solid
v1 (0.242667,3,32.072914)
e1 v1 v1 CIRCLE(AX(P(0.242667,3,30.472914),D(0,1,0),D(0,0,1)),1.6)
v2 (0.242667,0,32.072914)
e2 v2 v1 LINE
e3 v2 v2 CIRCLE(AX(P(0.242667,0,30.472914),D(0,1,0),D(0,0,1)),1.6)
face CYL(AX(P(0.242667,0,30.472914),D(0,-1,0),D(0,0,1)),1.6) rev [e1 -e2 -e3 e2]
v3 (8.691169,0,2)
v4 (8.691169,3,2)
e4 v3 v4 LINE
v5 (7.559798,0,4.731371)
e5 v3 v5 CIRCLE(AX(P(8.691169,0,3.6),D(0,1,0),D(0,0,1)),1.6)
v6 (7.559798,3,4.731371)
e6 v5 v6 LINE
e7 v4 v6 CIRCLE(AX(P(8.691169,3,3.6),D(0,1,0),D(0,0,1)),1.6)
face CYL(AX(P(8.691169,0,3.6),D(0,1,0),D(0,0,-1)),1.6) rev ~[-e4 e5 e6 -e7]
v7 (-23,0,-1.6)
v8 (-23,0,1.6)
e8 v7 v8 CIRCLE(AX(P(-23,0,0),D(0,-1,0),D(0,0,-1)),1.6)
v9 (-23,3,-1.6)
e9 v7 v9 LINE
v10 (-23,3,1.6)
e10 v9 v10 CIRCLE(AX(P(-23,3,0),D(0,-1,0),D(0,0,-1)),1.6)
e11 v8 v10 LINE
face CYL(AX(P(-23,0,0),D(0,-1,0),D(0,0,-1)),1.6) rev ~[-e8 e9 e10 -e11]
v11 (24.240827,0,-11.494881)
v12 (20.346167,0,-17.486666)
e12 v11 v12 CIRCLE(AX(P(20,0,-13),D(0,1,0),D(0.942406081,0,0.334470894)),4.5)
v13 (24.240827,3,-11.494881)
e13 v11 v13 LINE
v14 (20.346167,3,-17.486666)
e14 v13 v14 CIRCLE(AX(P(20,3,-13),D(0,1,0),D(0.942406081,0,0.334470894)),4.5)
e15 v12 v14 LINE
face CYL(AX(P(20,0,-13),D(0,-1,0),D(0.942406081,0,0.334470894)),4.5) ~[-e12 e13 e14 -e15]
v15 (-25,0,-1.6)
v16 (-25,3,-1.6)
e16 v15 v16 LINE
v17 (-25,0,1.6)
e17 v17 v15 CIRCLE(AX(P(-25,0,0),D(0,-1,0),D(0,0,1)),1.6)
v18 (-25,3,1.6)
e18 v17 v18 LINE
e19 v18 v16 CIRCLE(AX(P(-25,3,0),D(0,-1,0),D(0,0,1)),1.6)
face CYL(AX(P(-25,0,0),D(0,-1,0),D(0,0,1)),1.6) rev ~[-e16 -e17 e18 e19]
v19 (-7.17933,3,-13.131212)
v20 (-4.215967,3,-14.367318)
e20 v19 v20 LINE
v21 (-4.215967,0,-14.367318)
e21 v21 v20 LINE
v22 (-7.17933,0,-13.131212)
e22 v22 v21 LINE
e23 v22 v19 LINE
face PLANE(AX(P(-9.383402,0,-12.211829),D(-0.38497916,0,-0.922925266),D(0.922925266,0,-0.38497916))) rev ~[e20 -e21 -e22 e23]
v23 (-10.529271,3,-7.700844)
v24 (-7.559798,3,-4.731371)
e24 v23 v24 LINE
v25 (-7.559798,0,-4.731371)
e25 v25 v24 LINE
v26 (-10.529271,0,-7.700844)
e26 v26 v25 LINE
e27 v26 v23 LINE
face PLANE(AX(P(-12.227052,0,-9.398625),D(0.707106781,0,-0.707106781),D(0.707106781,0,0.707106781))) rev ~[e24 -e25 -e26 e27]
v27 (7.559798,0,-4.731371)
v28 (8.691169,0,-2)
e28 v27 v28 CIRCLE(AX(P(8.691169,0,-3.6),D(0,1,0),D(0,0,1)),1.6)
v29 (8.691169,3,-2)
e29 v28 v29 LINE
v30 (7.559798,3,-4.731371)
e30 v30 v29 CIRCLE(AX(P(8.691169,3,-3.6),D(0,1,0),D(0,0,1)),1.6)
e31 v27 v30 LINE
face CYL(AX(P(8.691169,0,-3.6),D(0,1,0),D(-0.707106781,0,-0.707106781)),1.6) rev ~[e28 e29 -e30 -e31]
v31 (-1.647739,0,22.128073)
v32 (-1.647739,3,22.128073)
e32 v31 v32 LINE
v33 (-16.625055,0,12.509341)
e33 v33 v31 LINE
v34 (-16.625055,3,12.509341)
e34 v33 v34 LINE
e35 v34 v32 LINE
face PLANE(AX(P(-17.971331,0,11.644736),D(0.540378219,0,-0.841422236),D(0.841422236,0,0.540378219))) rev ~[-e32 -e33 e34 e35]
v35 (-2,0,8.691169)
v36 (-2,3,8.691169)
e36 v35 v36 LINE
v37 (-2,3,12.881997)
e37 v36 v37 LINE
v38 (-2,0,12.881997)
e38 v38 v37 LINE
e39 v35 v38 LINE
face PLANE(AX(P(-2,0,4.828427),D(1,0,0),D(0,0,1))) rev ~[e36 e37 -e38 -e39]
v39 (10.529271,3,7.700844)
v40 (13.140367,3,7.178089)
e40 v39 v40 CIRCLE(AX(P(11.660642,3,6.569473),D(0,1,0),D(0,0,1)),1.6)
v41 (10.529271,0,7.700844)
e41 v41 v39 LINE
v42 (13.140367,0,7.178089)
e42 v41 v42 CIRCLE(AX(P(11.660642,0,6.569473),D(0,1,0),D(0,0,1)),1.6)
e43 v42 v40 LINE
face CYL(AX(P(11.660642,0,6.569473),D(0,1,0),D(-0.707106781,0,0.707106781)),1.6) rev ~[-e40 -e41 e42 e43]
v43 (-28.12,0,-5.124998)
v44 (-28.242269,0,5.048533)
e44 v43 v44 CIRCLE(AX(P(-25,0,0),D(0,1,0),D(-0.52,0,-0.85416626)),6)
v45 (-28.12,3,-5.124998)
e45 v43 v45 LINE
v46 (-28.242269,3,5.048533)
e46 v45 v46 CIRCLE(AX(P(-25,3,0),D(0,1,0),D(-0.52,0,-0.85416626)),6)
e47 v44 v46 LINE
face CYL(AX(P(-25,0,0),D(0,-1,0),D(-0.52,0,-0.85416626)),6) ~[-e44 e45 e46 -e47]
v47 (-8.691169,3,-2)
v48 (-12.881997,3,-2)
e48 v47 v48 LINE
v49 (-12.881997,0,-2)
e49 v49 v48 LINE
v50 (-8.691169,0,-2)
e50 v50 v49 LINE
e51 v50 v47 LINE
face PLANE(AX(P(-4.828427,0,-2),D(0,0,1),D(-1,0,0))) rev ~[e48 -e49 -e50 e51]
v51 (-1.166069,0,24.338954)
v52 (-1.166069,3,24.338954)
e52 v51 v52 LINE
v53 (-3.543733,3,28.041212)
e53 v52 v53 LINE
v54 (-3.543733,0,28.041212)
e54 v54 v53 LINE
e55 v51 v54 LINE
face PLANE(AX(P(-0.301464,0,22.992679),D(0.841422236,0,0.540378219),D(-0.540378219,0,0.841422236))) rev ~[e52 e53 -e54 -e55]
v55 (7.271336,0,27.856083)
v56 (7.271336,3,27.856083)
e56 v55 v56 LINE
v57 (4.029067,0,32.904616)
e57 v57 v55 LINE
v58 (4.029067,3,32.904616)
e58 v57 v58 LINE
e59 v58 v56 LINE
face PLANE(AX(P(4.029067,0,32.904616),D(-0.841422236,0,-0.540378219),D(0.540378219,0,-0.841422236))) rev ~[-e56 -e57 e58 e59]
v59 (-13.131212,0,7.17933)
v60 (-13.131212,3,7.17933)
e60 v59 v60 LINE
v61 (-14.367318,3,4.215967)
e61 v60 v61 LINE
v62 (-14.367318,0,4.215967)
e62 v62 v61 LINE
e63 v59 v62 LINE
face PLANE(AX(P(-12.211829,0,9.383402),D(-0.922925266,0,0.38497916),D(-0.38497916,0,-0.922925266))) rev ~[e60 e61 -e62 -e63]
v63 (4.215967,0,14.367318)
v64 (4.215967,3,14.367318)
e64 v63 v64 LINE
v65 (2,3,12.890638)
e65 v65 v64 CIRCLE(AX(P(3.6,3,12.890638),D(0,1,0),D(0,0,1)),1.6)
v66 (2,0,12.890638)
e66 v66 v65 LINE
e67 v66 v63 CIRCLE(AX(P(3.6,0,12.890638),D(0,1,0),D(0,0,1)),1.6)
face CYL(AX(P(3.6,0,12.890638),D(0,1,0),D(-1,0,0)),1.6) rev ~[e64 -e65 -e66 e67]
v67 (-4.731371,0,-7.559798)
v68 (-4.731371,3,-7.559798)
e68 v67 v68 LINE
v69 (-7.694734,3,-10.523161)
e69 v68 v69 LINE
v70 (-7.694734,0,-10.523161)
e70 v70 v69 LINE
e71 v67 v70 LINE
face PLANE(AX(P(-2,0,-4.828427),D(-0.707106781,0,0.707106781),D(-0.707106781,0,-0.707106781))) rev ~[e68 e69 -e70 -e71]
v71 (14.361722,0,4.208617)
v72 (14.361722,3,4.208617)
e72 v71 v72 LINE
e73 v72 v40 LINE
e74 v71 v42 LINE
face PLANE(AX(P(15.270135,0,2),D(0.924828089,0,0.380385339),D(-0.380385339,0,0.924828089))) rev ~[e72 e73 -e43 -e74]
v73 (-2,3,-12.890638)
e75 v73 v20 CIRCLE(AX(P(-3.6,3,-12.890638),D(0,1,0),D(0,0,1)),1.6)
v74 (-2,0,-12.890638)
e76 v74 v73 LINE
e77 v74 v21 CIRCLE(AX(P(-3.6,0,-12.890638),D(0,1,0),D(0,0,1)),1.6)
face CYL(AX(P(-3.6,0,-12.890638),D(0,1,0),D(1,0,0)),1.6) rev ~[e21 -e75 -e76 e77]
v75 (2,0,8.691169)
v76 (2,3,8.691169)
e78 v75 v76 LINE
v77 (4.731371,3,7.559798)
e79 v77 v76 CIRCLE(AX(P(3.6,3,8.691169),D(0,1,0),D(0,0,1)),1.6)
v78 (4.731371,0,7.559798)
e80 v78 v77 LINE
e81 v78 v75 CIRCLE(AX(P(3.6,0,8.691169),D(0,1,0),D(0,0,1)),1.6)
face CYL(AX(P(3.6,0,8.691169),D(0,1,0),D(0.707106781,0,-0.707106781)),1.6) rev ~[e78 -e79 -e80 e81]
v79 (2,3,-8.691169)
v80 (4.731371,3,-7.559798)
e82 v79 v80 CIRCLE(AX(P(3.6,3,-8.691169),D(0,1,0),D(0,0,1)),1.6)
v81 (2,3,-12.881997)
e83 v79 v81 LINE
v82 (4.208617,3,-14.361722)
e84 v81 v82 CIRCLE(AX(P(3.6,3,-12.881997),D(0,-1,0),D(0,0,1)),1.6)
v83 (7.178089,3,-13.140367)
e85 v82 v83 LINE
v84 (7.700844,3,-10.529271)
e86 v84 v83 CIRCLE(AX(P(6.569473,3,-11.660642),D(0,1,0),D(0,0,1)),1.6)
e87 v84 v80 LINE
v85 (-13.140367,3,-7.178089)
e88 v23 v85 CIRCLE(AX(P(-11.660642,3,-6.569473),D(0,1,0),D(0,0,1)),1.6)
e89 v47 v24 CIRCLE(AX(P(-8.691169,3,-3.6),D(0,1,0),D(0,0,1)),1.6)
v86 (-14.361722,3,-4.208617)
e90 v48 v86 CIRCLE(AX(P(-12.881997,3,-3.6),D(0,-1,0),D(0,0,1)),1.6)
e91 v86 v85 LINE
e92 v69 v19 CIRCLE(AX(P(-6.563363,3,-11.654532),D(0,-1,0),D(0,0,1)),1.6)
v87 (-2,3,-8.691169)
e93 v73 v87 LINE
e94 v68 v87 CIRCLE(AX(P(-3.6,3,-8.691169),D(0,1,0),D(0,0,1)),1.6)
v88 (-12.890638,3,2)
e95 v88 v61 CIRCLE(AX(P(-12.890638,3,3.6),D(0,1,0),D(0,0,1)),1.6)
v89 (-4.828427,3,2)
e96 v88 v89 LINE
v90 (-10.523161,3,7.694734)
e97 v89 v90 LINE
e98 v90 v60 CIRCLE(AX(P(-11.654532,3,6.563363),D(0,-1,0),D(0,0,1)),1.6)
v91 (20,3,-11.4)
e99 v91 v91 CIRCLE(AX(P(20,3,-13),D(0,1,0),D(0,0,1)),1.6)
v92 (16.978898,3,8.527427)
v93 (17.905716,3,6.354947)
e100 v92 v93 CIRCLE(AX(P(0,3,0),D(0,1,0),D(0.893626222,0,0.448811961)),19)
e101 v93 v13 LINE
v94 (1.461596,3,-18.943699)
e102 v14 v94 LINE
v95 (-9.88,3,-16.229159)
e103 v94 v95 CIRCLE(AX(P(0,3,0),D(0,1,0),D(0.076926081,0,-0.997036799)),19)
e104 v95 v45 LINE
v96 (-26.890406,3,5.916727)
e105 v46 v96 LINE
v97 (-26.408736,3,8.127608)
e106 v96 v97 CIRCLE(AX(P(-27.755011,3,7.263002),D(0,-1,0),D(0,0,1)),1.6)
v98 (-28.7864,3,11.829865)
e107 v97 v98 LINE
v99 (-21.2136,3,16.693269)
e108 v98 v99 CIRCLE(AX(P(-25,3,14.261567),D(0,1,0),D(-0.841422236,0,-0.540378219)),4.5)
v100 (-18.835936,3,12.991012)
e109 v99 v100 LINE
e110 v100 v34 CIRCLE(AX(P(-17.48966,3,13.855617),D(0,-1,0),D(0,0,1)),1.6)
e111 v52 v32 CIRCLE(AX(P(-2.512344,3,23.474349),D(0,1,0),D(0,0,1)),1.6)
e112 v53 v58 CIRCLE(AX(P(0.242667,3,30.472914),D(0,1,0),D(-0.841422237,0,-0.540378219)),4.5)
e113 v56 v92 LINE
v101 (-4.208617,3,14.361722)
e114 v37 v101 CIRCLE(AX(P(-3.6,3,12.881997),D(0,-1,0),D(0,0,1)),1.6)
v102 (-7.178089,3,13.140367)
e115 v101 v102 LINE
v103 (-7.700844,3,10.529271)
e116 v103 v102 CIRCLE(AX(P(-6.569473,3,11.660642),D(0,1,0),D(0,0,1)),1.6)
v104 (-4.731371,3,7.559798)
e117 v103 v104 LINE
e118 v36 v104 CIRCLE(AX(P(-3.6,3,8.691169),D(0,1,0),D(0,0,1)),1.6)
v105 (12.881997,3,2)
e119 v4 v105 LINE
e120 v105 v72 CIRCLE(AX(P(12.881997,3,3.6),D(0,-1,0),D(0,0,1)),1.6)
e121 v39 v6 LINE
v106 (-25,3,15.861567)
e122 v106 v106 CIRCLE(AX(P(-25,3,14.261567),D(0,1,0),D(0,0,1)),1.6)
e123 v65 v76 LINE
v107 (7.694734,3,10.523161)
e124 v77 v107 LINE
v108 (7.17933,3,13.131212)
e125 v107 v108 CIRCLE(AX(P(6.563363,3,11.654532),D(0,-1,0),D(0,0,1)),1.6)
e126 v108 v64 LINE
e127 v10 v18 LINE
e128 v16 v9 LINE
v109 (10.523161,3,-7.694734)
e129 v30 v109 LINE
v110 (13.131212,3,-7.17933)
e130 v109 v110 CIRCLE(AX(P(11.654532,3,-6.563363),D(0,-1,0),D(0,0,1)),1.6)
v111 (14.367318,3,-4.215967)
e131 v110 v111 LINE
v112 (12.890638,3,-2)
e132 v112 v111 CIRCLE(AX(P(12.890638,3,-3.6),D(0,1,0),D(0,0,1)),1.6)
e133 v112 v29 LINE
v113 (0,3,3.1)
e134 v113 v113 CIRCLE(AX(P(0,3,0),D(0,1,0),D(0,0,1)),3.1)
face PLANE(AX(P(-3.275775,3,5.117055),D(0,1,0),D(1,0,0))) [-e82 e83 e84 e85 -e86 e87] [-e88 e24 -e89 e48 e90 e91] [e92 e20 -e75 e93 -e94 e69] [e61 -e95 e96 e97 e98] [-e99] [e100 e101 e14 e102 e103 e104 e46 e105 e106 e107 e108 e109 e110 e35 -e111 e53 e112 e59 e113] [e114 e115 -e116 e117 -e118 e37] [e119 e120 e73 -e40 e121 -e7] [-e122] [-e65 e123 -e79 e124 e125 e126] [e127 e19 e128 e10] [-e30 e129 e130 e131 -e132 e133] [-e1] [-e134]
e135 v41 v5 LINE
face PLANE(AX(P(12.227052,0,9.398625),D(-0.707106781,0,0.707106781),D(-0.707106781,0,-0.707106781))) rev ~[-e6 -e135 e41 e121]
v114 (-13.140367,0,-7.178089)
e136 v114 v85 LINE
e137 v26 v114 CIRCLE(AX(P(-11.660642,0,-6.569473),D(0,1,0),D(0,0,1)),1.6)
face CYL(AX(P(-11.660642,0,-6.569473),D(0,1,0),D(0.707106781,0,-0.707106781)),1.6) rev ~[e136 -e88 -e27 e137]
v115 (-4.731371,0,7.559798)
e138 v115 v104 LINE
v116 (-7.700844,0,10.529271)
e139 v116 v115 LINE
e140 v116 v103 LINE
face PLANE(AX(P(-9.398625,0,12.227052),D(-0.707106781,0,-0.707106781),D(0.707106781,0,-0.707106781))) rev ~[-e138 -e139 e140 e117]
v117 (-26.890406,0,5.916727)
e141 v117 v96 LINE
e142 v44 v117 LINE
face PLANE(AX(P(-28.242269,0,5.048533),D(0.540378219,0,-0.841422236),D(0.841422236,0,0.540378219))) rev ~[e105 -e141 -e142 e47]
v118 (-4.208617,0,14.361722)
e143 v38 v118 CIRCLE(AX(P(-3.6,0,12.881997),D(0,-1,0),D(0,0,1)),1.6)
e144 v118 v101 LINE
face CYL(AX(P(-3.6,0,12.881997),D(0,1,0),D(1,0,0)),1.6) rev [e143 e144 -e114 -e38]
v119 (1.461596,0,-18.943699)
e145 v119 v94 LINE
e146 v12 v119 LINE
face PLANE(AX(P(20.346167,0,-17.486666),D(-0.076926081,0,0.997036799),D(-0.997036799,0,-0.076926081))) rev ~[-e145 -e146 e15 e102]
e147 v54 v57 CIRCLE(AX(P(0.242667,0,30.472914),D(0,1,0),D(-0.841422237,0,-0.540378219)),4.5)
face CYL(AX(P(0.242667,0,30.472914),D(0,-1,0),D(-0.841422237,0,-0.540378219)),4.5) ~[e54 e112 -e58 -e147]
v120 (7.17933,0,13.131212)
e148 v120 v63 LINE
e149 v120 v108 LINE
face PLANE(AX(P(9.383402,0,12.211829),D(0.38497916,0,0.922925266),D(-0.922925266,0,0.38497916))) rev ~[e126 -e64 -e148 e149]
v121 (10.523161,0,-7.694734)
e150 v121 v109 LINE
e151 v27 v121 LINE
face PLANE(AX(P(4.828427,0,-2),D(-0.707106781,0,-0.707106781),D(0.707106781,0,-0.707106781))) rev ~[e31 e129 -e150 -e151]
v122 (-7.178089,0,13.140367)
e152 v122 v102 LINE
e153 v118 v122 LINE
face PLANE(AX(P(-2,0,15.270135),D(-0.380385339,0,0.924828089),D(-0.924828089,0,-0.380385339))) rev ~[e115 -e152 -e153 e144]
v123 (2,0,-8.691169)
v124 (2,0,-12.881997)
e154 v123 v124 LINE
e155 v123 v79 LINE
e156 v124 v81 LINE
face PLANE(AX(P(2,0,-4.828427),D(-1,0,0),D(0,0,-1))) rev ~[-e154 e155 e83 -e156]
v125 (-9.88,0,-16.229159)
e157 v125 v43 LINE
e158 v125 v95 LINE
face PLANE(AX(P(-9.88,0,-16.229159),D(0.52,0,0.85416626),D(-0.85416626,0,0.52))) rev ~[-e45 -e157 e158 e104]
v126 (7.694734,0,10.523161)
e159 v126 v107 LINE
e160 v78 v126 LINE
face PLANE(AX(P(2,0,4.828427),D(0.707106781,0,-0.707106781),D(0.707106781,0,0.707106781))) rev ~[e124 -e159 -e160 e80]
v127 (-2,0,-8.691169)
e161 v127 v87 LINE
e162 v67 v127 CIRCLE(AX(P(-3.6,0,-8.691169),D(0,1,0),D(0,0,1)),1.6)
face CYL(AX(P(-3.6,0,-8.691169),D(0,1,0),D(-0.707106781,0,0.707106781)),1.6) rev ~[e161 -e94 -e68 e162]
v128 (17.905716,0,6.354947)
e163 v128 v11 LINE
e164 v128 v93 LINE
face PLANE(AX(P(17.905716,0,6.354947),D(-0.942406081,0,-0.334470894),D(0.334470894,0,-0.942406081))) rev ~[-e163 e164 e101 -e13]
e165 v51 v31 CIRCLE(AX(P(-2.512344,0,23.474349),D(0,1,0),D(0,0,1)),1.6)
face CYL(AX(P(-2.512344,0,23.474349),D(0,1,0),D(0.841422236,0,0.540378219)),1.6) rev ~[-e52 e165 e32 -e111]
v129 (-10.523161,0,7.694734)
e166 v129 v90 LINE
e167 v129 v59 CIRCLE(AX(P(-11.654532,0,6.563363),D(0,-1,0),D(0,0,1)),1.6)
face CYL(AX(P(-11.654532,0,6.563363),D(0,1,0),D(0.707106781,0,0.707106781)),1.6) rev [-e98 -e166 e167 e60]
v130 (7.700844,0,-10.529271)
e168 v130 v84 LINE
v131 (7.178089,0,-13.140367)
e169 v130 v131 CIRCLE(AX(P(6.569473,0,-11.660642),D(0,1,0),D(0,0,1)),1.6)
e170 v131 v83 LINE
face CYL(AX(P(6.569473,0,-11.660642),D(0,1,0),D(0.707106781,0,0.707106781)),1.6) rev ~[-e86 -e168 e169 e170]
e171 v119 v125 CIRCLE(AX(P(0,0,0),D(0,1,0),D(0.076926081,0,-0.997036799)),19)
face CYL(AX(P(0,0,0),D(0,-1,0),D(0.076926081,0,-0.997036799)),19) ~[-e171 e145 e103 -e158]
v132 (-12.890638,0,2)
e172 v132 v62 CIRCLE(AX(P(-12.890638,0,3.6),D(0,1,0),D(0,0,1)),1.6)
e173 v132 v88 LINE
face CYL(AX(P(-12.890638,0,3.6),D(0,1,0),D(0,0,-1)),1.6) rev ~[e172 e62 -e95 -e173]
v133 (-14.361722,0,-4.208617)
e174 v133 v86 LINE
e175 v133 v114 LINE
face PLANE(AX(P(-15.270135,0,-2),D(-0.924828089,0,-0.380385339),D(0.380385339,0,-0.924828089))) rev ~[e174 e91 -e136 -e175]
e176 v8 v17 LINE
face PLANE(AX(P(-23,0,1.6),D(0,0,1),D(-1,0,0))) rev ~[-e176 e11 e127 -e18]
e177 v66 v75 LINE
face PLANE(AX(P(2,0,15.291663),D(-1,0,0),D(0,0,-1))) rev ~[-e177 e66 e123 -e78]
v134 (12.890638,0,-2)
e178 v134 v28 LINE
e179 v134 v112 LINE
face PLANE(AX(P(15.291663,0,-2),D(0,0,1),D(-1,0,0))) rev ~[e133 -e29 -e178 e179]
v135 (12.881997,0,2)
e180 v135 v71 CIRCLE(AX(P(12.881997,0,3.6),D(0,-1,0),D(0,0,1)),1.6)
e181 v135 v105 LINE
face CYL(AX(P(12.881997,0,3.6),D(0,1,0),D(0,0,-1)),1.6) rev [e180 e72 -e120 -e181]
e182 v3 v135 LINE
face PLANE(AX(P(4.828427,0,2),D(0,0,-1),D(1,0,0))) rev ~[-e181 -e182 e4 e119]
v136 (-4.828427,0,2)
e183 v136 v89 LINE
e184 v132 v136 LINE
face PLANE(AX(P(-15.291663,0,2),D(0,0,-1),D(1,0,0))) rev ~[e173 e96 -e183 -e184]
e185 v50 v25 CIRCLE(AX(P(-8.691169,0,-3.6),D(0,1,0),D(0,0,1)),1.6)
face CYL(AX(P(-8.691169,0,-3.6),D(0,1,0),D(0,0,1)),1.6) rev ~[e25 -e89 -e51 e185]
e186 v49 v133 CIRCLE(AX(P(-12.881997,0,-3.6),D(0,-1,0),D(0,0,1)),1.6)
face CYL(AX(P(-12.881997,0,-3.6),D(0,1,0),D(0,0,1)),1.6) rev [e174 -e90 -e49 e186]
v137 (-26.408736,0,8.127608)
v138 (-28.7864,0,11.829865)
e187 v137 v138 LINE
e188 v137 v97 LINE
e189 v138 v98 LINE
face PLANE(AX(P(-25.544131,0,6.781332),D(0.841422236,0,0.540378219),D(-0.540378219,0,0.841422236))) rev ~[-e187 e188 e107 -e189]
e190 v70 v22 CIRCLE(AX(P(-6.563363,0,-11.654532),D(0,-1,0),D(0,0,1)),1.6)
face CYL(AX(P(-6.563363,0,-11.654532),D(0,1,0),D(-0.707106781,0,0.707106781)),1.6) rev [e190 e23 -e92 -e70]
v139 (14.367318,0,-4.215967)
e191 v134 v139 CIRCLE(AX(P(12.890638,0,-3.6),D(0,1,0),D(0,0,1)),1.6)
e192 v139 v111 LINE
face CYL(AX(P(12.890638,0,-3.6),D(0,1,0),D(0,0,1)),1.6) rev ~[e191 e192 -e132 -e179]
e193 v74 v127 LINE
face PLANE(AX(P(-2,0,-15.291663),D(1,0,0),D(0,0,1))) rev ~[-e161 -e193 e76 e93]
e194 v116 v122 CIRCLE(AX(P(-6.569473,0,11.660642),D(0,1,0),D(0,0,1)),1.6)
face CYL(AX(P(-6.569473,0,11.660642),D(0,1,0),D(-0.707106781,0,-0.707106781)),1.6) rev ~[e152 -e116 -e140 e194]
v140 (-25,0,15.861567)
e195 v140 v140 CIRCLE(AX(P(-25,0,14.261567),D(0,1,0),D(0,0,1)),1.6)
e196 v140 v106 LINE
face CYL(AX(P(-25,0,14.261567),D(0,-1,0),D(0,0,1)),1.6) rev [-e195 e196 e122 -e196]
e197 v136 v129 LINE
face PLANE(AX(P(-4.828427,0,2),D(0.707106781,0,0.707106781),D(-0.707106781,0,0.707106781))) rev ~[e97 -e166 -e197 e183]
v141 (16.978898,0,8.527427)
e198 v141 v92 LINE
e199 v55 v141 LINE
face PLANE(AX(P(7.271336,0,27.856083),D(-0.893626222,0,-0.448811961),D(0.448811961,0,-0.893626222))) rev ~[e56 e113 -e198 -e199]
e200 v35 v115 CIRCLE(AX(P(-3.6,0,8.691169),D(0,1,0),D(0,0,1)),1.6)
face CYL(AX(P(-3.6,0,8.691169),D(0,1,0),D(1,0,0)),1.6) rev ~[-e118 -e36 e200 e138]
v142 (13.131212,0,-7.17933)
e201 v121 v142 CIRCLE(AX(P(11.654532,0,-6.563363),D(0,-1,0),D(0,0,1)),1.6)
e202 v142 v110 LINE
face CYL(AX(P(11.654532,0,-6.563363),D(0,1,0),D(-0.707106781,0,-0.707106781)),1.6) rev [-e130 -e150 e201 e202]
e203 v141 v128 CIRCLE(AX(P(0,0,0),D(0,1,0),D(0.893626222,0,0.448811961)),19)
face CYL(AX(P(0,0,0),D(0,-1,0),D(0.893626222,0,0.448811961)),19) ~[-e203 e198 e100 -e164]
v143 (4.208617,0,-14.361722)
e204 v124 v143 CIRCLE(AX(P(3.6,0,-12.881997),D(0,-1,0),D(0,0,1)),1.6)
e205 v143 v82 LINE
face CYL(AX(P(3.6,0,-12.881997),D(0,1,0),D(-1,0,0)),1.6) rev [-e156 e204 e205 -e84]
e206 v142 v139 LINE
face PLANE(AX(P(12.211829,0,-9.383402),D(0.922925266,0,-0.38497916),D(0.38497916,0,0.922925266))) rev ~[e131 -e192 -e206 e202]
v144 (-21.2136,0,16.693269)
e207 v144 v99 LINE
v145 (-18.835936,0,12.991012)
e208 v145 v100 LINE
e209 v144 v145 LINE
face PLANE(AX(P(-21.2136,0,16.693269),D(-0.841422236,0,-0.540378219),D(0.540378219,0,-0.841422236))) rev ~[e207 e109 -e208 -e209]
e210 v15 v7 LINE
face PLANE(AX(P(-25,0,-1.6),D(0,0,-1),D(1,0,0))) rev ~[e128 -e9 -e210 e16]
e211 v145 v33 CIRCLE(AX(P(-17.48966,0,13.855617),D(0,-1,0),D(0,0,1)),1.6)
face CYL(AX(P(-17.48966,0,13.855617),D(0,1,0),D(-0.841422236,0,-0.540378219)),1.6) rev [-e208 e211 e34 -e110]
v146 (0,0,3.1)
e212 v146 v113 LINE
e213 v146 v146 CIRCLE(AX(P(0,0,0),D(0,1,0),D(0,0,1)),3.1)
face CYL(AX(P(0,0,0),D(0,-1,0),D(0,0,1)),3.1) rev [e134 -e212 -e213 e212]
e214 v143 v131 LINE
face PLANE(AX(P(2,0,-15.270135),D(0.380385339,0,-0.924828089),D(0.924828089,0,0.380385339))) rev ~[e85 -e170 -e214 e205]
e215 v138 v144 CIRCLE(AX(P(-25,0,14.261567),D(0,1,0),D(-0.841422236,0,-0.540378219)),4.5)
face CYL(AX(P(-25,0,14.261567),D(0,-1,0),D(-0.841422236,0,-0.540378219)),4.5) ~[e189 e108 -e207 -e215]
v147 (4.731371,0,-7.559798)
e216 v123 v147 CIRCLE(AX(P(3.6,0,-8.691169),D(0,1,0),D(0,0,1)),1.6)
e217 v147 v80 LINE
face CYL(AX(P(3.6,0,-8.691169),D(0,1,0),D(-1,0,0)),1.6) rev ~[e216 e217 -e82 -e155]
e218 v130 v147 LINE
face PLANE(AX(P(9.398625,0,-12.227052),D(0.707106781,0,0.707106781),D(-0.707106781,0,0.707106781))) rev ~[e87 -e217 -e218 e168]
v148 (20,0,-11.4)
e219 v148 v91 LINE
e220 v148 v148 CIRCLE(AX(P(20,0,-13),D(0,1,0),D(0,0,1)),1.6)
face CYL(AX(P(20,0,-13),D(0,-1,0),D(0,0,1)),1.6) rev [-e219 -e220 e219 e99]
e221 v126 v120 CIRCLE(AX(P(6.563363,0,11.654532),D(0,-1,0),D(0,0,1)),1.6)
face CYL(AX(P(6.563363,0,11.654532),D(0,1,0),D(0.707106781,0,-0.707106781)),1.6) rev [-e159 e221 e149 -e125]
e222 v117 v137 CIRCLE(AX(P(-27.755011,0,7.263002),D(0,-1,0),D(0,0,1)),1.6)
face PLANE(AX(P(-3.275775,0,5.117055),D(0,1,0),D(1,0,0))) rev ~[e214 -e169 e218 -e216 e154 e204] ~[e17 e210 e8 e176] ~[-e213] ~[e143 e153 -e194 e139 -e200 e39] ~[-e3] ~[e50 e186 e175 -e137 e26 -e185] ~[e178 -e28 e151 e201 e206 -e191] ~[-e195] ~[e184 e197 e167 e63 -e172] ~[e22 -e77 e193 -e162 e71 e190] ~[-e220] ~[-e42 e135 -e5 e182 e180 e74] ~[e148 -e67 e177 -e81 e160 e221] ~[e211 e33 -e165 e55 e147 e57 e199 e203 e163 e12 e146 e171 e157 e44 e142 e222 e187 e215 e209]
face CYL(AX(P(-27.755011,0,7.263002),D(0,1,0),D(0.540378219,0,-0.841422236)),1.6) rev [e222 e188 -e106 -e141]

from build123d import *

# Parameters (mm, degrees)
SKETCH_1_R      = 1.6
SKETCH_1_R_2    = 3.1
EXTRUDE_1_DEPTH = 3
FILLET_1_R      = 1.6


with BuildPart() as part:
    # 草图1 → 凸台-拉伸1 (new body)
    with BuildSketch(Plane(origin=(0, 0, 0), x_dir=(1, 0, 0), z_dir=(0, 1, 0))):
        with BuildLine():
            Line((20.346167364, 17.486665594), (1.461595535, 18.943699177))
            ThreePointArc((1.461595535, 18.943699177), (-4.422619767, 18.478106894), (-9.88, 16.229158943))
            Line((-9.88, 16.229158943), (-28.12, 5.124997561))
            ThreePointArc((-28.12, 5.124997561), (-30.999566723, 0.072105046), (-28.242269316, -5.048533419))
            Line((-28.242269316, -5.048533419), (-25.544130748, -6.781332069))
            Line((-25.544130748, -6.781332069), (-28.786400064, -11.829865488))
            ThreePointArc((-28.786400064, -11.829865488), (-27.431701987, -18.047967539), (-21.213599936, -16.693269462))
            Line((-21.213599936, -16.693269462), (-17.97133062, -11.644736044))
            Line((-17.97133062, -11.644736044), (-0.301463654, -22.992678651))
            Line((-0.301463654, -22.992678651), (-3.543732971, -28.04121207))
            ThreePointArc((-3.543732971, -28.04121207), (-2.189034894, -34.259314121), (4.029067158, -32.904616044))
            Line((4.029067158, -32.904616044), (7.271336474, -27.856082626))
            Line((7.271336474, -27.856082626), (16.97889821, -8.527427253))
            ThreePointArc((16.97889821, -8.527427253), (17.476097582, -7.455602812), (17.905715537, -6.35494698))
            Line((17.905715537, -6.35494698), (24.240827364, 11.494880978))
            ThreePointArc((24.240827364, 11.494880978), (23.772996273, 15.452447578), (20.346167364, 17.486665594))
        make_face()
        Polygon((-12.211829252, -9.383402127), (-15.291662532, -2), (-4.828427125, -2), align=None, mode=Mode.SUBTRACT)
        Polygon((-15.270134549, 2), (-12.227051834, 9.398624709), (-4.828427125, 2), align=None, mode=Mode.SUBTRACT)
        Polygon((-9.383402127, 12.211829252), (-2, 15.291662532), (-2, 4.828427125), align=None, mode=Mode.SUBTRACT)
        Polygon((2, 15.270134549), (9.398624709, 12.227051834), (2, 4.828427125), align=None, mode=Mode.SUBTRACT)
        Polygon((12.211829252, 9.383402127), (15.291662532, 2), (4.828427125, 2), align=None, mode=Mode.SUBTRACT)
        Polygon((15.270134549, -2), (12.227051834, -9.398624709), (4.828427125, -2), align=None, mode=Mode.SUBTRACT)
        Polygon((9.383402127, -12.211829252), (2, -15.291662532), (2, -4.828427125), align=None, mode=Mode.SUBTRACT)
        Polygon((-2, -15.270134549), (-9.398624709, -12.227051834), (-2, -4.828427125), align=None, mode=Mode.SUBTRACT)
        with Locations(Location((20, 13, 0), (0, 0, 270))):
            Circle(SKETCH_1_R, mode=Mode.SUBTRACT)
        with BuildLine():
            Line((-25, 1.6), (-23, 1.6))
            ThreePointArc((-23, 1.6), (-21.4, 0), (-23, -1.6))
            Line((-23, -1.6), (-25, -1.6))
            ThreePointArc((-25, -1.6), (-26.6, 0), (-25, 1.6))
        make_face(mode=Mode.SUBTRACT)
        with Locations(Location((0.242667093, -30.472914057, 0), (0, 0, 270))):
            Circle(SKETCH_1_R, mode=Mode.SUBTRACT)
        with Locations(Location((-25, -14.261567475, 0), (0, 0, 270))):
            Circle(SKETCH_1_R, mode=Mode.SUBTRACT)
        with Locations(Location((0, 0, 0), (0, 0, 270))):
            Circle(SKETCH_1_R_2, mode=Mode.SUBTRACT)
    extrude(amount=EXTRUDE_1_DEPTH)

    # 圆角1
    fillet_1_edges = [part.edges().sort_by_distance(p)[0] for p in [
        (15.291662532, 1.5, -2),
        (12.211829252, 1.5, -9.383402127),
        (4.828427125, 1.5, -2),
        (9.398624709, 1.5, -12.227051834),
        (2, 1.5, -15.270134549),
        (2, 1.5, -4.828427125),
        (-2, 1.5, -15.291662532),
        (-9.383402127, 1.5, -12.211829252),
        (-2, 1.5, -4.828427125),
        (-12.227051834, 1.5, -9.398624709),
        (-15.270134549, 1.5, -2),
        (-4.828427125, 1.5, -2),
        (-15.291662532, 1.5, 2),
        (-12.211829252, 1.5, 9.383402127),
        (-9.398624709, 1.5, 12.227051834),
        (-2, 1.5, 15.270134549),
        (-2, 1.5, 4.828427125),
        (2, 1.5, 15.291662532),
        (9.383402127, 1.5, 12.211829252),
        (2, 1.5, 4.828427125),
        (12.227051834, 1.5, 9.398624709),
        (15.270134549, 1.5, 2),
        (4.828427125, 1.5, 2),
        (-0.301463654, 1.5, 22.992678651),
        (-17.97133062, 1.5, 11.644736044),
        (-25.544130748, 1.5, 6.781332069),
    ]]
    fillet(fillet_1_edges, radius=FILLET_1_R)


solid = part.part
